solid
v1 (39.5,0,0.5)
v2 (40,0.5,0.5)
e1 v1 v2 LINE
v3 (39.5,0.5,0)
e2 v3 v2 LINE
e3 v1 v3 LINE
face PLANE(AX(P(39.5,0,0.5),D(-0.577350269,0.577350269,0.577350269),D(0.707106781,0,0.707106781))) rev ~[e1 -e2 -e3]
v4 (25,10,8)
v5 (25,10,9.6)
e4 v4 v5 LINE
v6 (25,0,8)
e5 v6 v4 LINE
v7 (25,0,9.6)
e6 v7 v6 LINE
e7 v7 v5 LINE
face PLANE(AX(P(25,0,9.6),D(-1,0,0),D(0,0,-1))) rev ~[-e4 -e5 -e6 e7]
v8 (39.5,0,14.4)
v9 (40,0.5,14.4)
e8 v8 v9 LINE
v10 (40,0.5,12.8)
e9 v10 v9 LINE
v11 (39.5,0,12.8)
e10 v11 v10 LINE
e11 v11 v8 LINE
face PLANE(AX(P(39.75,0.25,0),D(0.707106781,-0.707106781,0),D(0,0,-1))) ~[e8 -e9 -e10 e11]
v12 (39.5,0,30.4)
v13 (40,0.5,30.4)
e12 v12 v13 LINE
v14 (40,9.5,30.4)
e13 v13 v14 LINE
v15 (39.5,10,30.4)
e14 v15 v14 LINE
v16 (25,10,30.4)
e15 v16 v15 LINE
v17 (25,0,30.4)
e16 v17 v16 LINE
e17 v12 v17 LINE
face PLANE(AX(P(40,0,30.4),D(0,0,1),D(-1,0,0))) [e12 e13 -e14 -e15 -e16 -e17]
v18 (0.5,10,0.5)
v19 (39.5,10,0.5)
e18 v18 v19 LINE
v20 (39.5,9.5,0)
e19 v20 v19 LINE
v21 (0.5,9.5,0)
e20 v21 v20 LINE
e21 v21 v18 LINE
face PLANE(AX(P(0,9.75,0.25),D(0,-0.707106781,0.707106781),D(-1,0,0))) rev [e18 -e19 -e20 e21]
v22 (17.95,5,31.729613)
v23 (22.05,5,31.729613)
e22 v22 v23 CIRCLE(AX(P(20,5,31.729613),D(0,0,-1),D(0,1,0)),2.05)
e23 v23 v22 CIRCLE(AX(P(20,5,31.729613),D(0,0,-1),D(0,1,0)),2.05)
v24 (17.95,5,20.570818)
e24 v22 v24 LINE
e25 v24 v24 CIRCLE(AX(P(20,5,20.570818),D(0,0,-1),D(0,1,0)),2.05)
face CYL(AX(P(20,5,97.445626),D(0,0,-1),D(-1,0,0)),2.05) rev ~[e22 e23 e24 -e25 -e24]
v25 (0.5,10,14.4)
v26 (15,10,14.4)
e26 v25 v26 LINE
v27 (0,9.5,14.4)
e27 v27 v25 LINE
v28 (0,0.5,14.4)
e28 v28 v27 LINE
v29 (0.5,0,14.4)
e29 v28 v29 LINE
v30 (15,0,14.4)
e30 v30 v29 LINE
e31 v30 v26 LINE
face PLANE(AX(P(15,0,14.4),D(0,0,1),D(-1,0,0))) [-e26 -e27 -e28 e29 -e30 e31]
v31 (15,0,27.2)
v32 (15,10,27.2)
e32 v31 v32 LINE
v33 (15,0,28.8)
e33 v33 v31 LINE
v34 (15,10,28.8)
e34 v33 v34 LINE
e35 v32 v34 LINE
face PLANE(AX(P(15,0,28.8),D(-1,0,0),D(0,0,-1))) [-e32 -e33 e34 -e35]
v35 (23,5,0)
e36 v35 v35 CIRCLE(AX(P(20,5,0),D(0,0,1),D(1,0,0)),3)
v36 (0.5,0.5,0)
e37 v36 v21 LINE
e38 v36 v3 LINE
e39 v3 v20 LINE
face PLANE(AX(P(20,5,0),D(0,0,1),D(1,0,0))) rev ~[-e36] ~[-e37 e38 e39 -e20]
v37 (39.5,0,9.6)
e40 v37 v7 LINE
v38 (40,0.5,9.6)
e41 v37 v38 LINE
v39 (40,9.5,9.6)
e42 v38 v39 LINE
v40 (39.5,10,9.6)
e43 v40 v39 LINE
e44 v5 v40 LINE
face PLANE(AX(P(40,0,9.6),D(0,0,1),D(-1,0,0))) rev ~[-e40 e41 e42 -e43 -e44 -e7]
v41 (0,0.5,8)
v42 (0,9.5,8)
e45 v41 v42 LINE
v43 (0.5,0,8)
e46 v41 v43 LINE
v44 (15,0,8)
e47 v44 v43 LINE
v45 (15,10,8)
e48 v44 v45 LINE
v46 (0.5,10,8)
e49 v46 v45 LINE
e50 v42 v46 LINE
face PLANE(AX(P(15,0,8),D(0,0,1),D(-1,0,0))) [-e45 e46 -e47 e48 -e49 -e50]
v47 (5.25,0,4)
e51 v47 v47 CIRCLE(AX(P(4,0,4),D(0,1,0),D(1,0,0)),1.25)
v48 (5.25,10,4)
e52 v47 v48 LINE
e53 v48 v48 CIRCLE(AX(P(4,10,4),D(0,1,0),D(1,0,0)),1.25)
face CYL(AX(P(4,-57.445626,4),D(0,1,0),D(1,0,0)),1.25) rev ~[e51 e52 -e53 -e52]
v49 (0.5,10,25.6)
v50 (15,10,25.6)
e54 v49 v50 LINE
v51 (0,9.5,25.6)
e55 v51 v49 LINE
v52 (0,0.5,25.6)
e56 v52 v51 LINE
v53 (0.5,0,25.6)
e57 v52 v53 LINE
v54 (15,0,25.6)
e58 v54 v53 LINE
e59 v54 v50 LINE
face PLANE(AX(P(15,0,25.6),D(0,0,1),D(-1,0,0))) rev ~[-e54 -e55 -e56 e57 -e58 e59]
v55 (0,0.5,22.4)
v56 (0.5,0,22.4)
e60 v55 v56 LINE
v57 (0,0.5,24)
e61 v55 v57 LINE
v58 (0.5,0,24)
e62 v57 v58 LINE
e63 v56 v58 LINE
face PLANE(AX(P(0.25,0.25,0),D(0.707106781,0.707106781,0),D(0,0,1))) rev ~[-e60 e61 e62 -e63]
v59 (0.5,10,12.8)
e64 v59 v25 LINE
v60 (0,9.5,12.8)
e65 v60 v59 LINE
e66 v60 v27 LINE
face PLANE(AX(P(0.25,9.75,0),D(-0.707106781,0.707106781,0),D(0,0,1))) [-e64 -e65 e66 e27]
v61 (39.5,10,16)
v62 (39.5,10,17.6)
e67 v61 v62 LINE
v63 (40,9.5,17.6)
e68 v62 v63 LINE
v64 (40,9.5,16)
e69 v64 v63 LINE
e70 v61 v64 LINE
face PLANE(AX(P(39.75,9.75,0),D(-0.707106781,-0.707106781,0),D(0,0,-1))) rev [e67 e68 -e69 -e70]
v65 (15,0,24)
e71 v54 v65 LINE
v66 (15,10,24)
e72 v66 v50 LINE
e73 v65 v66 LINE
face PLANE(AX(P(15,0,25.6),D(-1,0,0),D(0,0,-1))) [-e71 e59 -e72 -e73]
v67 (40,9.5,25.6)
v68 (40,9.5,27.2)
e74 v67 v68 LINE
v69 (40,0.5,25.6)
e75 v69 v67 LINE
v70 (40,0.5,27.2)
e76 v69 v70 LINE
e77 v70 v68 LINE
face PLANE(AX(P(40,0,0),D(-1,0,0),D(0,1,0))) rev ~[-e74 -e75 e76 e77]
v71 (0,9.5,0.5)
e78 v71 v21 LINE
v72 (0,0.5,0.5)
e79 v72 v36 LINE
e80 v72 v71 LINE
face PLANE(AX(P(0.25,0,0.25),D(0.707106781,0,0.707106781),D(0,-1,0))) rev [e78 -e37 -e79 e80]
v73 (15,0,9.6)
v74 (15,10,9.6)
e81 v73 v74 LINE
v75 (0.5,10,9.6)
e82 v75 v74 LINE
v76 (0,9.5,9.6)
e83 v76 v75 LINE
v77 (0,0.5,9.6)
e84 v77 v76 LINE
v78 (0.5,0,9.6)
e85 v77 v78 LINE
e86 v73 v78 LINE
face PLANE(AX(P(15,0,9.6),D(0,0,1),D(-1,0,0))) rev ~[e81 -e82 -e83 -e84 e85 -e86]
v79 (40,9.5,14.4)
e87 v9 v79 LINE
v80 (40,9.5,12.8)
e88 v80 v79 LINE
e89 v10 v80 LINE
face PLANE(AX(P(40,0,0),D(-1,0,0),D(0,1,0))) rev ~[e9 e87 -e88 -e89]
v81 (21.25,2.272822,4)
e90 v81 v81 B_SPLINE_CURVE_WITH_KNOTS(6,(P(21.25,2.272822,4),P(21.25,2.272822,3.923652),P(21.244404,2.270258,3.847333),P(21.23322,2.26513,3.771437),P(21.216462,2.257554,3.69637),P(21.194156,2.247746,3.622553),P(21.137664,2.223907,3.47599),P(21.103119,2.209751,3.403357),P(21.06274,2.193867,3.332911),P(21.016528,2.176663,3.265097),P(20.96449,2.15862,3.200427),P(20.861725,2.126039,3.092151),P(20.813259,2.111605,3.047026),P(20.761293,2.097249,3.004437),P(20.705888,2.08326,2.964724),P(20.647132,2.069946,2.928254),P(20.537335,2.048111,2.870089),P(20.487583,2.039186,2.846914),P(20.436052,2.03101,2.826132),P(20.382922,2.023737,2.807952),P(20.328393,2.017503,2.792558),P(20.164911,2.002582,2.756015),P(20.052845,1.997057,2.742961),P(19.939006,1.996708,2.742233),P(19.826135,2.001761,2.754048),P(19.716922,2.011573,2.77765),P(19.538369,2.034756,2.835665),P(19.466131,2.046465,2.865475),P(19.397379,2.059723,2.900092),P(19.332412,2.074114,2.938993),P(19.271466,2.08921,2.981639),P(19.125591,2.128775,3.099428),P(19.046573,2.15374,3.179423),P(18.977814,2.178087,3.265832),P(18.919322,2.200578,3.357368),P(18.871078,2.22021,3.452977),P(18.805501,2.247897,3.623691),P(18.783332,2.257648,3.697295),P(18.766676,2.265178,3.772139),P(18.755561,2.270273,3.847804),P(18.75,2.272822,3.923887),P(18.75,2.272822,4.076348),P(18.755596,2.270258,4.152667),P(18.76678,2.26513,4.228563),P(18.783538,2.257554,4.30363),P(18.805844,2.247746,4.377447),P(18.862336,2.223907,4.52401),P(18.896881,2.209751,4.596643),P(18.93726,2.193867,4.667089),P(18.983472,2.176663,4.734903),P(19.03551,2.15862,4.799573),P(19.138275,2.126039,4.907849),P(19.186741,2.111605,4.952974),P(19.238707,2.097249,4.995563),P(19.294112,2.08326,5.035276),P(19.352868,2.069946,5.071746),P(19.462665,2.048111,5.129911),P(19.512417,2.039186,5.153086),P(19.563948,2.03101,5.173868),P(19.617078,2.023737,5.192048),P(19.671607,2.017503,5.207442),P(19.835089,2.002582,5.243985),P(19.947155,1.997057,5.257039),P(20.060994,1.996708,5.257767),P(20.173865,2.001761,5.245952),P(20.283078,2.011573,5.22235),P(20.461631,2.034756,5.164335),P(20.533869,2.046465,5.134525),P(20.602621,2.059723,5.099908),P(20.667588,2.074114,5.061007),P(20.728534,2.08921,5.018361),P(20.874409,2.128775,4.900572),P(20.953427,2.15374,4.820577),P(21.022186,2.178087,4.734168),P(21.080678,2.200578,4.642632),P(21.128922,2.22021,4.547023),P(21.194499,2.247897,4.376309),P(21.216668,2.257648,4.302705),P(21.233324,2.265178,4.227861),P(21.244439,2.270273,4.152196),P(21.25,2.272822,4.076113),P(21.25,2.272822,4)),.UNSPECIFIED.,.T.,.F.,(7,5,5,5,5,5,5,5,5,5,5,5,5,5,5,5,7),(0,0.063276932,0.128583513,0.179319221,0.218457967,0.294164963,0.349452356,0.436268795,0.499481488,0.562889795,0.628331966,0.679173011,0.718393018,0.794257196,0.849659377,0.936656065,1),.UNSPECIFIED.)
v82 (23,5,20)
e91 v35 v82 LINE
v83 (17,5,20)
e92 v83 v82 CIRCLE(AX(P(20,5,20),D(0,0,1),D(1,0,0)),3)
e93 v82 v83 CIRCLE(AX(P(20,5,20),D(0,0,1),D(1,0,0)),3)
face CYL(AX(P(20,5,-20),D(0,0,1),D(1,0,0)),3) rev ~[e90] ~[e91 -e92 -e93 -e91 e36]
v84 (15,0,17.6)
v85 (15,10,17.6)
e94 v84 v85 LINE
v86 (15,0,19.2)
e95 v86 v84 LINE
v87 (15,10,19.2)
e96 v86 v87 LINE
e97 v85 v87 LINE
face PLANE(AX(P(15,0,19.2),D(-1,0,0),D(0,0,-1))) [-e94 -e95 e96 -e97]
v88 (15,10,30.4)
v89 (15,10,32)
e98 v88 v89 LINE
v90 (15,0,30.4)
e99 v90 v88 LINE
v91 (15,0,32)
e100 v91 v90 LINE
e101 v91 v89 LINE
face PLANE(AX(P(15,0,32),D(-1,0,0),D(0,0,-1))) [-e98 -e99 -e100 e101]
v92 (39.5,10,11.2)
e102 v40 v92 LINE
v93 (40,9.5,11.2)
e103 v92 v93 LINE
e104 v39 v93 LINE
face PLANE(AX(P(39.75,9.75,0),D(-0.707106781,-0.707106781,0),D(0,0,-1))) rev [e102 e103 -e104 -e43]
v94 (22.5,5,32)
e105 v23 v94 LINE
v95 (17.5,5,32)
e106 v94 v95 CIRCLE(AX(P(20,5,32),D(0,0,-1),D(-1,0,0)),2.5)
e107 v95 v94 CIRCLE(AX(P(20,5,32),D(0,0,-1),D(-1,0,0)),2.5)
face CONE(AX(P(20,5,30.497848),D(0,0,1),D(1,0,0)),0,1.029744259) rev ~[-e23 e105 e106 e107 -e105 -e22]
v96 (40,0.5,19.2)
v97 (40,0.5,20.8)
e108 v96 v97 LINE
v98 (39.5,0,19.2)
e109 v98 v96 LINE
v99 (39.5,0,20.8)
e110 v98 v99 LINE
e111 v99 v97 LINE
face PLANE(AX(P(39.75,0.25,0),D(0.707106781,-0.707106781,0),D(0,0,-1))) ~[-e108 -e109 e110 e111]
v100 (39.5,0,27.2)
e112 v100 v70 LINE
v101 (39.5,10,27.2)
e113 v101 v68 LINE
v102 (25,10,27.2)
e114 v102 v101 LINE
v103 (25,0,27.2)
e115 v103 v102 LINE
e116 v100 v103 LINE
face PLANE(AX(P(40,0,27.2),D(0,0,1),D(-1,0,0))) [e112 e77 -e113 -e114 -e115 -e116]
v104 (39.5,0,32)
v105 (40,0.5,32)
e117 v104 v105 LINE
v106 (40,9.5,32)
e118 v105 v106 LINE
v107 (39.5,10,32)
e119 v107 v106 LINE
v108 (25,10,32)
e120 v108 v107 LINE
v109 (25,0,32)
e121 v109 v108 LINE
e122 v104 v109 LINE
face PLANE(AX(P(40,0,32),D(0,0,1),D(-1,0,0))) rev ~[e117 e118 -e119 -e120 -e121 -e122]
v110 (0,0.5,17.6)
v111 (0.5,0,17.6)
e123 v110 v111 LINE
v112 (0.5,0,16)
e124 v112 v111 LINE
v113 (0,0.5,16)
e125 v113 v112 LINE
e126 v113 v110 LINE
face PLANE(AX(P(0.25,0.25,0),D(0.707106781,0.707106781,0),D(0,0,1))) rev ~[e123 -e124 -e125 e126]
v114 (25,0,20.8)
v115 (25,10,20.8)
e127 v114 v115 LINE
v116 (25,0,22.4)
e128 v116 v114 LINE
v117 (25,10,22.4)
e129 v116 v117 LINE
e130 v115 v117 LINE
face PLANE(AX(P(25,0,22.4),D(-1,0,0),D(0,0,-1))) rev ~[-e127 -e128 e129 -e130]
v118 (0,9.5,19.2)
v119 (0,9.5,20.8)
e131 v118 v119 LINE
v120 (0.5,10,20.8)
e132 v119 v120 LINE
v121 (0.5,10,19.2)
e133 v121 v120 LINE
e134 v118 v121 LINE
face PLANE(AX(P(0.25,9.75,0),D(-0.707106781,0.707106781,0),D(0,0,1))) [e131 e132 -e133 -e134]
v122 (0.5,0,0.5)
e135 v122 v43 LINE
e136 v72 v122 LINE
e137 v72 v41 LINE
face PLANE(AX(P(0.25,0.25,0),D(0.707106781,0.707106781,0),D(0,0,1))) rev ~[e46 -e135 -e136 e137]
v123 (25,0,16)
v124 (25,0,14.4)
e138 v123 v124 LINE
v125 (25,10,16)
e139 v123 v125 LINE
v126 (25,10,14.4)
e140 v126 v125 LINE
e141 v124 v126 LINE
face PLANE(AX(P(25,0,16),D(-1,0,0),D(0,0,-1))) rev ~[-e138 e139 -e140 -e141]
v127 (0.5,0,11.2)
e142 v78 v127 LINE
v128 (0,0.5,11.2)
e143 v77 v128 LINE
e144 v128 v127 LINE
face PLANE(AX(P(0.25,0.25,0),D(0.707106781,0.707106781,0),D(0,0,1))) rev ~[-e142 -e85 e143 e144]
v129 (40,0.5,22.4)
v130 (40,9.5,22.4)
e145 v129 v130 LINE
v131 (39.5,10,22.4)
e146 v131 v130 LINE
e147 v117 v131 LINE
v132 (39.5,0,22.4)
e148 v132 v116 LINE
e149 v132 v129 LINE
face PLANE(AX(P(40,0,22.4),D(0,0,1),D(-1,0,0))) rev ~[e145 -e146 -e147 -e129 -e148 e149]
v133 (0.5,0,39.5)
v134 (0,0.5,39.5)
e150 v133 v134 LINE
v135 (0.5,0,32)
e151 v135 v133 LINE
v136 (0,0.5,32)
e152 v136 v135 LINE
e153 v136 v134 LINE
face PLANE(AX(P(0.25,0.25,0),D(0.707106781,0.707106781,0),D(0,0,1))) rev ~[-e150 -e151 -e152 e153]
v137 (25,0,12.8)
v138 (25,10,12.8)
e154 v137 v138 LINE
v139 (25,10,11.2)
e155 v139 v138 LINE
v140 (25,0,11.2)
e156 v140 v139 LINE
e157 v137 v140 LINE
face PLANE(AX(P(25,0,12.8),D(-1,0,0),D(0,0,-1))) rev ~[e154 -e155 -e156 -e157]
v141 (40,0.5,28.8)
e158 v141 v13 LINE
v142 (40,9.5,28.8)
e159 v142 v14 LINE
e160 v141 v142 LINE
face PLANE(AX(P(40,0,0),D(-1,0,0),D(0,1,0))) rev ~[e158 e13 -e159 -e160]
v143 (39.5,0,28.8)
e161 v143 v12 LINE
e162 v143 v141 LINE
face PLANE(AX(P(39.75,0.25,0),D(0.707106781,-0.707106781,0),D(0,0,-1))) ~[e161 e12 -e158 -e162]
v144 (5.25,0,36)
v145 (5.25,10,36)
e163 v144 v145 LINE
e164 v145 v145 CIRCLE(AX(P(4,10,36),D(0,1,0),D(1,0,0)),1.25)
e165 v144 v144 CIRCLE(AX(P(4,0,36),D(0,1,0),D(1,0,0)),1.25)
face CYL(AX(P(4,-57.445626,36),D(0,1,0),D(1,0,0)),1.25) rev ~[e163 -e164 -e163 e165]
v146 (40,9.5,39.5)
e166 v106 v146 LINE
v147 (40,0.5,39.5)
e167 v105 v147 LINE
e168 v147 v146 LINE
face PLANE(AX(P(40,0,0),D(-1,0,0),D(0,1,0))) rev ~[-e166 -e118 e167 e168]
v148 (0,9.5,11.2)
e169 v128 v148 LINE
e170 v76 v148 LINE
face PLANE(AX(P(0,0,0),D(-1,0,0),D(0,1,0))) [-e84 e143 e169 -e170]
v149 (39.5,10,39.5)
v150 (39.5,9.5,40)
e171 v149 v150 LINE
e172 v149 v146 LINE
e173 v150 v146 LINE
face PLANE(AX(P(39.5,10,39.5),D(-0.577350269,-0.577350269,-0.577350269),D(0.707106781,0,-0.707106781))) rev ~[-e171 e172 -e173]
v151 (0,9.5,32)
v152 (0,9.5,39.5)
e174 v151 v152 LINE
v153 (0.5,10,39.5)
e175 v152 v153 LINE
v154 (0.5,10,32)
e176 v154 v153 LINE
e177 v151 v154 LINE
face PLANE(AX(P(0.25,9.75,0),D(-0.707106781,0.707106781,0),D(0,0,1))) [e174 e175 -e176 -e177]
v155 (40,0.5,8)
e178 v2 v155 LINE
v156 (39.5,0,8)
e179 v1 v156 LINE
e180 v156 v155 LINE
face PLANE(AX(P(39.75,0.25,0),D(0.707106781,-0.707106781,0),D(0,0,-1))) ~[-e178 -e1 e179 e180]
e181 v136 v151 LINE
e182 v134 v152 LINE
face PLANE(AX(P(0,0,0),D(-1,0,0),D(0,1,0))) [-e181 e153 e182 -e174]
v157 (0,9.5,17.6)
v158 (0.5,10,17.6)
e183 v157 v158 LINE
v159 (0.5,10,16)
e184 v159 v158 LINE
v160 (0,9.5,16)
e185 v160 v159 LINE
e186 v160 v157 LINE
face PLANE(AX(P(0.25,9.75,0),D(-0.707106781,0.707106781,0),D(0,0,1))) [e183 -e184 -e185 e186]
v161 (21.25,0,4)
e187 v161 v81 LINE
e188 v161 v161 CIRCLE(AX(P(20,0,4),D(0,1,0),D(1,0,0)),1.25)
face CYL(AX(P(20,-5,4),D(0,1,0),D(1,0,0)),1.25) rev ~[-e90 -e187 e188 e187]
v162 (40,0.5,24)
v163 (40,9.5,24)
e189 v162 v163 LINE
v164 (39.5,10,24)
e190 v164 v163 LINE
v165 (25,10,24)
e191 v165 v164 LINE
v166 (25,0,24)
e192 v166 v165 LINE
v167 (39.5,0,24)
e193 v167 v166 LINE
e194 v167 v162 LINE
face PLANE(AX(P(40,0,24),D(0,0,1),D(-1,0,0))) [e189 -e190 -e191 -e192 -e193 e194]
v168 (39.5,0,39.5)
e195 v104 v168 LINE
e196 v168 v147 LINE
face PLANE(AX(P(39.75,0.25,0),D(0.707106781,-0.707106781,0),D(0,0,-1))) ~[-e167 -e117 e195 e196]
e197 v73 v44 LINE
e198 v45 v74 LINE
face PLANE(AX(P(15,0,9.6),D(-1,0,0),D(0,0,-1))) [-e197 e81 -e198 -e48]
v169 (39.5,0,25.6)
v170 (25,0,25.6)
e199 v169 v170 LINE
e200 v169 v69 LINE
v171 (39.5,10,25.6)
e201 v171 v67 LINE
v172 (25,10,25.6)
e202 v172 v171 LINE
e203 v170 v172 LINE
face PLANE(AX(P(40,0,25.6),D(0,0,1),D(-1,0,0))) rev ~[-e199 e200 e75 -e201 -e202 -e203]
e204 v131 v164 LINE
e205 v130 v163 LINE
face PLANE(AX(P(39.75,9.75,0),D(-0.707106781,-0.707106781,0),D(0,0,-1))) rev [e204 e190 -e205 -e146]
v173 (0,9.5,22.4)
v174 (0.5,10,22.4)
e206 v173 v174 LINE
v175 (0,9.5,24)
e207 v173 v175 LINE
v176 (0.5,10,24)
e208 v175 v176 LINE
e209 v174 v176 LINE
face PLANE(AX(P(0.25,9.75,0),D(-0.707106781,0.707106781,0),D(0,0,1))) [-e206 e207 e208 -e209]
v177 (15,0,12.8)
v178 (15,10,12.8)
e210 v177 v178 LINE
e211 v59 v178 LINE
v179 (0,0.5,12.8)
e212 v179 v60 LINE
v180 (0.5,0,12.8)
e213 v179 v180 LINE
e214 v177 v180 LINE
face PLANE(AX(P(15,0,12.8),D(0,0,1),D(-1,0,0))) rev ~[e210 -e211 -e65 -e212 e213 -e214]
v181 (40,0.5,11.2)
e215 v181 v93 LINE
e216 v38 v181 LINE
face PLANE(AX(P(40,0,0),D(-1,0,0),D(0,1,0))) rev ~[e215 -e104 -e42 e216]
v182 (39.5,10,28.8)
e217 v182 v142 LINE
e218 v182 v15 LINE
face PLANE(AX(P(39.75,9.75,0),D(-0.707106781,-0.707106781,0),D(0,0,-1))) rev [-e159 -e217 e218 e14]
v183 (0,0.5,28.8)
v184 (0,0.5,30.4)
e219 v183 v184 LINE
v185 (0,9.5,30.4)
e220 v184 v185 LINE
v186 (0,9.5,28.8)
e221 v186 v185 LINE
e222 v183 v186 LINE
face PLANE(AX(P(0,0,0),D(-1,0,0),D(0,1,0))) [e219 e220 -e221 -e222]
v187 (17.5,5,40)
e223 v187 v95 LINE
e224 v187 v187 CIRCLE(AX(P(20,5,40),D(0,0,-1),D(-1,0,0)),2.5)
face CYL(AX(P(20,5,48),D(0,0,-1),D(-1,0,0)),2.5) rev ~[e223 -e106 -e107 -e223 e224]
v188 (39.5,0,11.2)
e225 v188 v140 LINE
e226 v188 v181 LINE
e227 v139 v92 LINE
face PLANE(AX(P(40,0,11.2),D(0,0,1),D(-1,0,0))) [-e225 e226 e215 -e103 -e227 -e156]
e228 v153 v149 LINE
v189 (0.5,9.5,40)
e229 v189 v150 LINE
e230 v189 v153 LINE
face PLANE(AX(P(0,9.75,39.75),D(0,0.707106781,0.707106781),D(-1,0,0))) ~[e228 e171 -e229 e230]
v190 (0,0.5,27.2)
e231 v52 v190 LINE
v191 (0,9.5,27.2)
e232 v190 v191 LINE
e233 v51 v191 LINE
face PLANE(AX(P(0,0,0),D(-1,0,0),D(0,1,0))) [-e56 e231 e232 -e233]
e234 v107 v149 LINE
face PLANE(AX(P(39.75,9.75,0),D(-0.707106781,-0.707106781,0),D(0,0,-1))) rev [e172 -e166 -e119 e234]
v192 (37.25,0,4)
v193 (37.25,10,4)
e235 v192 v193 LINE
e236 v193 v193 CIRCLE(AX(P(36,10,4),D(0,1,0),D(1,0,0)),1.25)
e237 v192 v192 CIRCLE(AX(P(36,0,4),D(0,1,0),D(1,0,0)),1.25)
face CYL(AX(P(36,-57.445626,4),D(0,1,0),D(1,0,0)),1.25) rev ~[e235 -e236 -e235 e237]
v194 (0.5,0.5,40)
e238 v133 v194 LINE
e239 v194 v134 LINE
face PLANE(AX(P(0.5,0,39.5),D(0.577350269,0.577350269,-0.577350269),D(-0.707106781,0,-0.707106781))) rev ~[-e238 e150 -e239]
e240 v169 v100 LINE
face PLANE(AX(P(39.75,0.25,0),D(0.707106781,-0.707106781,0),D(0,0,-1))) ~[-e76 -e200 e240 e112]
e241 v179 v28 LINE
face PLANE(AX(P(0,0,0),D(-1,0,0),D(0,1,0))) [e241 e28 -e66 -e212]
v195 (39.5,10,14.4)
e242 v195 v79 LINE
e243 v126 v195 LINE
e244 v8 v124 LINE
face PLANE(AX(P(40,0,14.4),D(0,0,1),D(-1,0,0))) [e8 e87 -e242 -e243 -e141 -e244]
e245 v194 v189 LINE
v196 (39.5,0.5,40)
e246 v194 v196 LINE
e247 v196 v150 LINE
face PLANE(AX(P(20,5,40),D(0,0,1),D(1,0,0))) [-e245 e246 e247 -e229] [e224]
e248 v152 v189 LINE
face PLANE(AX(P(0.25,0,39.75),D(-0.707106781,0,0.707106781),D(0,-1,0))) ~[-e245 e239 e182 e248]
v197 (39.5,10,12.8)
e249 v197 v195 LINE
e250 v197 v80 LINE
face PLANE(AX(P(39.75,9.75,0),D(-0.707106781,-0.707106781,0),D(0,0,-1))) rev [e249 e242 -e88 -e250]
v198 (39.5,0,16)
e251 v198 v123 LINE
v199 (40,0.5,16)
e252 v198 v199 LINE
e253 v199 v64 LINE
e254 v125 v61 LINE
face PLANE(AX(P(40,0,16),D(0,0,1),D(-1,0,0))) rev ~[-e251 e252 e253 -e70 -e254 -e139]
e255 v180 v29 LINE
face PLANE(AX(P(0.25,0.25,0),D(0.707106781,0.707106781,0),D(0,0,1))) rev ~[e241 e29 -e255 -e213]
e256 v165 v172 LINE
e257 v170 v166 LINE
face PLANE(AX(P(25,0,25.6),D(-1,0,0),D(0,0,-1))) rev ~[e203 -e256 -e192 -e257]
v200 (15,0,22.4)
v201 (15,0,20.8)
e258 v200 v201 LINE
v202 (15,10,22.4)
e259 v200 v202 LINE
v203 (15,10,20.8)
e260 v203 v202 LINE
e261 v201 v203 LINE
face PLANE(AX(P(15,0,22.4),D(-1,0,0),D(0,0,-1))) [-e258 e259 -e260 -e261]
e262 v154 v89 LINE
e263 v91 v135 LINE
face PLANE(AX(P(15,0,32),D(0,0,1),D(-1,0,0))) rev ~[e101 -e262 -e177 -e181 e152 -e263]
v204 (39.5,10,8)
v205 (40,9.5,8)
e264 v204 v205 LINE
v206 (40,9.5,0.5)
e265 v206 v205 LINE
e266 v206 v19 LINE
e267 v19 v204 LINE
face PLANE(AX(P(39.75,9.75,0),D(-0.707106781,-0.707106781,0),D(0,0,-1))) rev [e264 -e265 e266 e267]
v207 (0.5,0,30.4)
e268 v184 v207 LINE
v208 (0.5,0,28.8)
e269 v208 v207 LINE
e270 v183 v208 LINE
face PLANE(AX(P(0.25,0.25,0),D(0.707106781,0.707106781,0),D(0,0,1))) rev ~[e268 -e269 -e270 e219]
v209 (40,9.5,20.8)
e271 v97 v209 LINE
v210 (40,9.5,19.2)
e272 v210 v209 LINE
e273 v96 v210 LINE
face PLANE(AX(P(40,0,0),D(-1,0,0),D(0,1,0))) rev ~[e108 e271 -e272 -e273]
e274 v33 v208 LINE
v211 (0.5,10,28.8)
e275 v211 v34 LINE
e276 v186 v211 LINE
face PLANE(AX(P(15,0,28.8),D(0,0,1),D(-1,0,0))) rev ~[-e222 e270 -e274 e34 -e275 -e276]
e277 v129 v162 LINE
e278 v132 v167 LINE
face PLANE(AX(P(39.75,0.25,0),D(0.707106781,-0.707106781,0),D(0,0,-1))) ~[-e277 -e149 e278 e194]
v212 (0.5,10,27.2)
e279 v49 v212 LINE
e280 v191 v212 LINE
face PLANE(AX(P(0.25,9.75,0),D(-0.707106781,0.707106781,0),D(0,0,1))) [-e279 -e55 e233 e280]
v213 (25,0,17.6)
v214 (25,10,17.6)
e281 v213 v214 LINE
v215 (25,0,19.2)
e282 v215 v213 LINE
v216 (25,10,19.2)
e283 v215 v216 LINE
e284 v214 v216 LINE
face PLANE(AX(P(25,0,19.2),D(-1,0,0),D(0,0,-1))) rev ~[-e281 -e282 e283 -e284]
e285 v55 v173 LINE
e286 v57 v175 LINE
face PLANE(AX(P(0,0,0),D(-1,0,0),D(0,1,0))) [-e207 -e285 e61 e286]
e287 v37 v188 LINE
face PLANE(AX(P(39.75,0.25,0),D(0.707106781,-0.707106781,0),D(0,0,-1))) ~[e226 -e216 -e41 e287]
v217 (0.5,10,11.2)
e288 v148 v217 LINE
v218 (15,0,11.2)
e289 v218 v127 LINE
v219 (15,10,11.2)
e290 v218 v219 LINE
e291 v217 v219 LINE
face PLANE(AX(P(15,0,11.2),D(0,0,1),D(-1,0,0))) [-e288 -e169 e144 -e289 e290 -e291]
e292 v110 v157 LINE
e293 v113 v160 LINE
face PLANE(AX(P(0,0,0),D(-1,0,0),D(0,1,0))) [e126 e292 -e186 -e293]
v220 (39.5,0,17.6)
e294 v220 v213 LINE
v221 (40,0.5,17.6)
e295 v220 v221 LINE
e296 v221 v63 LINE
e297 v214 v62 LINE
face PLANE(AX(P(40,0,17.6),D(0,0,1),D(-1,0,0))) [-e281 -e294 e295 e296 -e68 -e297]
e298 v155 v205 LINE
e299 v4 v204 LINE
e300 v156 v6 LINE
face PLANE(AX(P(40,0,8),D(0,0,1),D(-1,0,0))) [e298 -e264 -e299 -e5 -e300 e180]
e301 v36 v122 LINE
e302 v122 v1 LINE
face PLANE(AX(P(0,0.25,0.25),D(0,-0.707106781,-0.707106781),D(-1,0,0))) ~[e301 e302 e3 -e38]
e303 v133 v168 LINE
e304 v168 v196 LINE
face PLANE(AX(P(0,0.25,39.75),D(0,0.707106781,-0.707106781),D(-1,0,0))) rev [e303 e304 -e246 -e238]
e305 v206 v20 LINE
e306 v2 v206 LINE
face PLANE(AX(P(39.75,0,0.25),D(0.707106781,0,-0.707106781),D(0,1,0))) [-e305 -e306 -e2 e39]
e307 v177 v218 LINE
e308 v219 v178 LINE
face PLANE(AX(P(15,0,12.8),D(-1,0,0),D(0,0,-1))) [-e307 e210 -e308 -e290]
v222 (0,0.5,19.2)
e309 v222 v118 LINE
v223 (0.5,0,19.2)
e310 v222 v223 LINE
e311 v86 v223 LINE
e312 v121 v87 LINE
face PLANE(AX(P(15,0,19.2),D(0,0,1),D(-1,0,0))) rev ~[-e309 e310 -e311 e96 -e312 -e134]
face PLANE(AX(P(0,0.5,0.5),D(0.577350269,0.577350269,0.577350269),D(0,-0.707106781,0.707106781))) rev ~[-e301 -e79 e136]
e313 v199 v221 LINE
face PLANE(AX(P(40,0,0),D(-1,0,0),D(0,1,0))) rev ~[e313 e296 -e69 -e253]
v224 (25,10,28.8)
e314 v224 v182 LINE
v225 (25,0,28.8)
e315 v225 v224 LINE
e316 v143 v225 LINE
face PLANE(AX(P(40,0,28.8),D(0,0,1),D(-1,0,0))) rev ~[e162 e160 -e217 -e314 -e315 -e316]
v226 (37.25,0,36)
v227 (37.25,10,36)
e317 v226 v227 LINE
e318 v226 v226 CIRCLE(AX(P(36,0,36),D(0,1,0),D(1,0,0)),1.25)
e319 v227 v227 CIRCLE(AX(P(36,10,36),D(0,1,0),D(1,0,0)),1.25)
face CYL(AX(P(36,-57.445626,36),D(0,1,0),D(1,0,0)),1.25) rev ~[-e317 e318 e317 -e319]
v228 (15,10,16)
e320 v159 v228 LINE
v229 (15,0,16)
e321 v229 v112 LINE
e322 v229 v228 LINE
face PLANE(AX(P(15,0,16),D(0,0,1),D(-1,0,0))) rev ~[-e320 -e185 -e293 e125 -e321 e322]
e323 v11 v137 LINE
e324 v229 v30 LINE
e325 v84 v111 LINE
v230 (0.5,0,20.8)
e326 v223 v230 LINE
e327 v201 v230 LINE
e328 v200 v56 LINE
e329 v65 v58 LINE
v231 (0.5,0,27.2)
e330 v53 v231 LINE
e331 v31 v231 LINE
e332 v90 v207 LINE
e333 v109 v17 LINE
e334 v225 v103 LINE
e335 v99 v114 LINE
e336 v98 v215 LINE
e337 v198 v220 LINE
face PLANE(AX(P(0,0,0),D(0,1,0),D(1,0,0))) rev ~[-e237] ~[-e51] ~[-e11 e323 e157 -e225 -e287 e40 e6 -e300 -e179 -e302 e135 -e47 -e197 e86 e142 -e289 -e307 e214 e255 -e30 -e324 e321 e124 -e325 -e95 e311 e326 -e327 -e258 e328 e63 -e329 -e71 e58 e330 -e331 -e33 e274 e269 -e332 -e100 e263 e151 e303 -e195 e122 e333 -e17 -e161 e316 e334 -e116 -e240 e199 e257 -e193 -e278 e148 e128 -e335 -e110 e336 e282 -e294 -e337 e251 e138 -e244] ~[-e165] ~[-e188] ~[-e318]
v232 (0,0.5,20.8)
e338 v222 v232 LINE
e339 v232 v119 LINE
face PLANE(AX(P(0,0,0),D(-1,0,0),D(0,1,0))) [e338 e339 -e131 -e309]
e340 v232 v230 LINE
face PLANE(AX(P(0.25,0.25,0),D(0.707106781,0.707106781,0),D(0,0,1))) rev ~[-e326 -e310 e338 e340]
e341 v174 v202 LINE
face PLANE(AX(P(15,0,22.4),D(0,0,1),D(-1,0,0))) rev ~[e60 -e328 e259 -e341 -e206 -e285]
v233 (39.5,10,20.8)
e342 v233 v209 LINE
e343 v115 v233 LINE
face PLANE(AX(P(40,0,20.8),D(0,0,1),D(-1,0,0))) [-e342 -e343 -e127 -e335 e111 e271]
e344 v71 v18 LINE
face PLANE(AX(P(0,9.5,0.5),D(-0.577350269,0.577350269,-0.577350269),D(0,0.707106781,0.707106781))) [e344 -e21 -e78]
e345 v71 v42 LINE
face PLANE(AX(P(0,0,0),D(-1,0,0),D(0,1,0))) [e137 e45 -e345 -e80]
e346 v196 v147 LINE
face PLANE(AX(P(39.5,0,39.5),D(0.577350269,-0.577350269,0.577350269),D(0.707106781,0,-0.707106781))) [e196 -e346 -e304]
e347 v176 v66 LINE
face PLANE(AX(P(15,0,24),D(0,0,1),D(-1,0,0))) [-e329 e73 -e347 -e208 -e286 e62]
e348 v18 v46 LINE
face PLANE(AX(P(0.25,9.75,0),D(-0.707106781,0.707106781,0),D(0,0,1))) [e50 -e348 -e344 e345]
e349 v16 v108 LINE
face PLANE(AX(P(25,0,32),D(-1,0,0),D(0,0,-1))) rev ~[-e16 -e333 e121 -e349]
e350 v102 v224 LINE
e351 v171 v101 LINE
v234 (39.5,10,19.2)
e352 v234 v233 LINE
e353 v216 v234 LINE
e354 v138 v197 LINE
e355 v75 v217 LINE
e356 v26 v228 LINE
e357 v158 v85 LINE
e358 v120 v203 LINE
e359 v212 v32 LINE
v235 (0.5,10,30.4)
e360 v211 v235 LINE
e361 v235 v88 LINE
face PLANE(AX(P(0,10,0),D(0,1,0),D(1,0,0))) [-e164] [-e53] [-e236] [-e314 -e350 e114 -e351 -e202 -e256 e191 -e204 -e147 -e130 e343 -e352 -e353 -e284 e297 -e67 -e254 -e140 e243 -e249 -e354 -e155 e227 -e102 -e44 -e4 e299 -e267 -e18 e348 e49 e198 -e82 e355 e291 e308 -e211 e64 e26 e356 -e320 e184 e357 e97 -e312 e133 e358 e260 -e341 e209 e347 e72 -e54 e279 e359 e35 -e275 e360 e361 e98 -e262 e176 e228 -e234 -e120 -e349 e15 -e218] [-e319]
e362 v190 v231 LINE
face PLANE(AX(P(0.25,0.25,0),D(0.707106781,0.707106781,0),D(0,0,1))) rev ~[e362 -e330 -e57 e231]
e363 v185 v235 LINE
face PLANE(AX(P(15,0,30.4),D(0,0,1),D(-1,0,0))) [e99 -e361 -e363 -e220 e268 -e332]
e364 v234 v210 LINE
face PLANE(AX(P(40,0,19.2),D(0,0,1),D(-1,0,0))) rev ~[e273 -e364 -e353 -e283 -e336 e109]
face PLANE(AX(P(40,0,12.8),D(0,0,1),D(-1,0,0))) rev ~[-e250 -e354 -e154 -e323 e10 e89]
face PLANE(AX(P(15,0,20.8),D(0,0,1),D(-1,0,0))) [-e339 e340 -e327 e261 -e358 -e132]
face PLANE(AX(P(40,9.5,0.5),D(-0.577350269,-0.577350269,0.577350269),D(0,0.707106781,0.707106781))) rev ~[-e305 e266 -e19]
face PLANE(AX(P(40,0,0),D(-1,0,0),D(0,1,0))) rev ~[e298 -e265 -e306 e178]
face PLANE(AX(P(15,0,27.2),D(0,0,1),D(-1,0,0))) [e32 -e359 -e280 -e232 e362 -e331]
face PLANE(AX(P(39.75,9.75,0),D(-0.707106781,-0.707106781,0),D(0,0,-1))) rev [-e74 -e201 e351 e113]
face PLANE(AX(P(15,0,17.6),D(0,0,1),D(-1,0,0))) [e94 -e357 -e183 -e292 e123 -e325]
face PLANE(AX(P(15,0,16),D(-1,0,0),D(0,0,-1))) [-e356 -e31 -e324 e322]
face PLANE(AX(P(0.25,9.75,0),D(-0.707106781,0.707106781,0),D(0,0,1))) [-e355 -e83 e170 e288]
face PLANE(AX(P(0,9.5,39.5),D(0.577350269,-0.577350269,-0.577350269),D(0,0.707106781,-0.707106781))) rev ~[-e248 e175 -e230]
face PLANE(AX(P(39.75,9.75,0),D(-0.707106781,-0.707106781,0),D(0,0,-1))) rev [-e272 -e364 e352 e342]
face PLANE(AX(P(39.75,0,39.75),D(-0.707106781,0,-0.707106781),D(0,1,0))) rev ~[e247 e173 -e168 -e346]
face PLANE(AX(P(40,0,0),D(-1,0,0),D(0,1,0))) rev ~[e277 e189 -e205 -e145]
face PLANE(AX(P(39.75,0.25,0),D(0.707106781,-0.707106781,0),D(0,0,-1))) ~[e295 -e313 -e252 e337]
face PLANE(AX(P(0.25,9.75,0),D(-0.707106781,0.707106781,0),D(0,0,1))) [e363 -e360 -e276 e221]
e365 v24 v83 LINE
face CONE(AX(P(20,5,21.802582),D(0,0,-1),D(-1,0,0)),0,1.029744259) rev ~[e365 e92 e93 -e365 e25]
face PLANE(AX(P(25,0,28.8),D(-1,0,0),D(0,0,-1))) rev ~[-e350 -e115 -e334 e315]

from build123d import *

# Parameters (mm, degrees)
ESQUISSE2_W                                   = 40
ESQUISSE2_H                                   = 10
BOSS_EXTRU_1_DEPTH                            = 40
DIAM_TRE_DU_PER_AGE_4_1_4_1_1_D               = 4.1
TROU_POUR_TARAUDAGE_POUR_TROU_TARAUD_M6_D     = 5
TROU_POUR_TARAUDAGE_POUR_TROU_TARAUD_M6_DEPTH = 8
TROU_POUR_TARAUDAGE_POUR_TROU_TARAUD_M6_TIP   = 1.502151548
DIAM_TRE_DU_PER_AGE_6_0_6_1_D                 = 6
DIAM_TRE_DU_PER_AGE_6_0_6_1_DEPTH             = 20
DIAM_TRE_DU_PER_AGE_6_0_6_1_TIP               = 1.802581857
TROU_POUR_TARAUDAGE_POUR_TROU_TARAUD_M3_D     = 2.5
TROU_POUR_TARAUDAGE_POUR_TROU_TARAUD_2_D      = 2.5
TROU_POUR_TARAUDAGE_POUR_TROU_TARAUD_2_DEPTH  = 5
TROU_POUR_TARAUDAGE_POUR_TROU_TARAUD_2_TIP    = 0.751075774
CHANFREIN1_SIZE                               = 0.5
ESQUISSE20_W                                  = 15
ESQUISSE20_H                                  = 1.6
ENL_V_MAT_EXTRU_1_DEPTH                       = 58.445626465
R_P_TITION_LIN_AIRE1_COUNT                    = 8
R_P_TITION_LIN_AIRE1_PITCH                    = 3.2


with BuildPart() as part:
    # Esquisse2 → Boss.-Extru.1 (new body)
    with BuildSketch(Plane.XY):
        with Locations((20, 5)):
            Rectangle(ESQUISSE2_W, ESQUISSE2_H)
    extrude(amount=BOSS_EXTRU_1_DEPTH)

    # Diamètre du perçage Ø4.1 (4.1)1 (through all)
    with Locations(Plane.XY.offset(40)):
        with Locations((20, 5)):
            Hole(DIAM_TRE_DU_PER_AGE_4_1_4_1_1_D / 2)

    # Trou pour taraudage pour trou taraudé M61
    with Locations(Plane.XY.offset(40)):
        with Locations((20, 5)):
            Hole(TROU_POUR_TARAUDAGE_POUR_TROU_TARAUD_M6_D / 2, depth=TROU_POUR_TARAUDAGE_POUR_TROU_TARAUD_M6_DEPTH)
            with Locations((0, 0, -(TROU_POUR_TARAUDAGE_POUR_TROU_TARAUD_M6_DEPTH + TROU_POUR_TARAUDAGE_POUR_TROU_TARAUD_M6_TIP / 2))):  # 118° drill point
                Cone(0, TROU_POUR_TARAUDAGE_POUR_TROU_TARAUD_M6_D / 2, TROU_POUR_TARAUDAGE_POUR_TROU_TARAUD_M6_TIP, mode=Mode.SUBTRACT)

    # Diamètre du perçage Ø6.0 (6)1
    with Locations(Plane(origin=(0, 0, 0), x_dir=(-1, 0, 0), z_dir=(0, 0, -1))):
        with Locations((-20, 5)):
            Hole(DIAM_TRE_DU_PER_AGE_6_0_6_1_D / 2, depth=DIAM_TRE_DU_PER_AGE_6_0_6_1_DEPTH)
            with Locations((0, 0, -(DIAM_TRE_DU_PER_AGE_6_0_6_1_DEPTH + DIAM_TRE_DU_PER_AGE_6_0_6_1_TIP / 2))):  # 118° drill point
                Cone(0, DIAM_TRE_DU_PER_AGE_6_0_6_1_D / 2, DIAM_TRE_DU_PER_AGE_6_0_6_1_TIP, mode=Mode.SUBTRACT)

    # Trou pour taraudage pour trou taraud_ M3 (through all)
    with Locations(Plane(origin=(0, 0, 0), x_dir=(-1, 0, 0), z_dir=(0, -1, 0))):
        with Locations((-4, -36), (-36, -36), (-36, -4), (-4, -4)):
            Hole(TROU_POUR_TARAUDAGE_POUR_TROU_TARAUD_M3_D / 2)

    # Trou pour taraudage pour trou taraud 2
    with Locations(Plane(origin=(0, 0, 0), x_dir=(-1, 0, 0), z_dir=(0, -1, 0))):
        with Locations((-20, -4)):
            Hole(TROU_POUR_TARAUDAGE_POUR_TROU_TARAUD_2_D / 2, depth=TROU_POUR_TARAUDAGE_POUR_TROU_TARAUD_2_DEPTH)
            with Locations((0, 0, -(TROU_POUR_TARAUDAGE_POUR_TROU_TARAUD_2_DEPTH + TROU_POUR_TARAUDAGE_POUR_TROU_TARAUD_2_TIP / 2))):  # 118° drill point
                Cone(0, TROU_POUR_TARAUDAGE_POUR_TROU_TARAUD_2_D / 2, TROU_POUR_TARAUDAGE_POUR_TROU_TARAUD_2_TIP, mode=Mode.SUBTRACT)

    # Chanfrein1
    chanfrein1_edges = [part.edges().sort_by_distance(p)[0] for p in [
        (40, 5, 40),
        (20, 10, 40),
        (0, 5, 40),
        (20, 10, 0),
        (40, 5, 0),
        (20, 0, 0),
        (0, 5, 0),
        (20, 0, 40),
        (0, 10, 20),
        (40, 10, 20),
        (40, 0, 20),
        (0, 0, 20),
    ]]
    chamfer(chanfrein1_edges, length=CHANFREIN1_SIZE)

    # Esquisse20 → Enlèv. mat.-Extru.1 (cut, through all)
    with BuildSketch(Plane(origin=(0, 0, 0), x_dir=(-1, 0, 0), z_dir=(0, -1, 0))):
        with Locations((-7.5, -31.2)):
            Rectangle(ESQUISSE20_W, ESQUISSE20_H)
        with Locations((-32.5, -31.2)):
            Rectangle(ESQUISSE20_W, ESQUISSE20_H)
    enl_v_mat_extru_1 = extrude(amount=-ENL_V_MAT_EXTRU_1_DEPTH, mode=Mode.SUBTRACT)

    # Répétition linéaire1: Enlèv. mat.-Extru.1 ×8
    with Locations(*[(0, 0, -i * R_P_TITION_LIN_AIRE1_PITCH) for i in range(1, R_P_TITION_LIN_AIRE1_COUNT)]):
        add(enl_v_mat_extru_1, mode=Mode.SUBTRACT)


solid = part.part
